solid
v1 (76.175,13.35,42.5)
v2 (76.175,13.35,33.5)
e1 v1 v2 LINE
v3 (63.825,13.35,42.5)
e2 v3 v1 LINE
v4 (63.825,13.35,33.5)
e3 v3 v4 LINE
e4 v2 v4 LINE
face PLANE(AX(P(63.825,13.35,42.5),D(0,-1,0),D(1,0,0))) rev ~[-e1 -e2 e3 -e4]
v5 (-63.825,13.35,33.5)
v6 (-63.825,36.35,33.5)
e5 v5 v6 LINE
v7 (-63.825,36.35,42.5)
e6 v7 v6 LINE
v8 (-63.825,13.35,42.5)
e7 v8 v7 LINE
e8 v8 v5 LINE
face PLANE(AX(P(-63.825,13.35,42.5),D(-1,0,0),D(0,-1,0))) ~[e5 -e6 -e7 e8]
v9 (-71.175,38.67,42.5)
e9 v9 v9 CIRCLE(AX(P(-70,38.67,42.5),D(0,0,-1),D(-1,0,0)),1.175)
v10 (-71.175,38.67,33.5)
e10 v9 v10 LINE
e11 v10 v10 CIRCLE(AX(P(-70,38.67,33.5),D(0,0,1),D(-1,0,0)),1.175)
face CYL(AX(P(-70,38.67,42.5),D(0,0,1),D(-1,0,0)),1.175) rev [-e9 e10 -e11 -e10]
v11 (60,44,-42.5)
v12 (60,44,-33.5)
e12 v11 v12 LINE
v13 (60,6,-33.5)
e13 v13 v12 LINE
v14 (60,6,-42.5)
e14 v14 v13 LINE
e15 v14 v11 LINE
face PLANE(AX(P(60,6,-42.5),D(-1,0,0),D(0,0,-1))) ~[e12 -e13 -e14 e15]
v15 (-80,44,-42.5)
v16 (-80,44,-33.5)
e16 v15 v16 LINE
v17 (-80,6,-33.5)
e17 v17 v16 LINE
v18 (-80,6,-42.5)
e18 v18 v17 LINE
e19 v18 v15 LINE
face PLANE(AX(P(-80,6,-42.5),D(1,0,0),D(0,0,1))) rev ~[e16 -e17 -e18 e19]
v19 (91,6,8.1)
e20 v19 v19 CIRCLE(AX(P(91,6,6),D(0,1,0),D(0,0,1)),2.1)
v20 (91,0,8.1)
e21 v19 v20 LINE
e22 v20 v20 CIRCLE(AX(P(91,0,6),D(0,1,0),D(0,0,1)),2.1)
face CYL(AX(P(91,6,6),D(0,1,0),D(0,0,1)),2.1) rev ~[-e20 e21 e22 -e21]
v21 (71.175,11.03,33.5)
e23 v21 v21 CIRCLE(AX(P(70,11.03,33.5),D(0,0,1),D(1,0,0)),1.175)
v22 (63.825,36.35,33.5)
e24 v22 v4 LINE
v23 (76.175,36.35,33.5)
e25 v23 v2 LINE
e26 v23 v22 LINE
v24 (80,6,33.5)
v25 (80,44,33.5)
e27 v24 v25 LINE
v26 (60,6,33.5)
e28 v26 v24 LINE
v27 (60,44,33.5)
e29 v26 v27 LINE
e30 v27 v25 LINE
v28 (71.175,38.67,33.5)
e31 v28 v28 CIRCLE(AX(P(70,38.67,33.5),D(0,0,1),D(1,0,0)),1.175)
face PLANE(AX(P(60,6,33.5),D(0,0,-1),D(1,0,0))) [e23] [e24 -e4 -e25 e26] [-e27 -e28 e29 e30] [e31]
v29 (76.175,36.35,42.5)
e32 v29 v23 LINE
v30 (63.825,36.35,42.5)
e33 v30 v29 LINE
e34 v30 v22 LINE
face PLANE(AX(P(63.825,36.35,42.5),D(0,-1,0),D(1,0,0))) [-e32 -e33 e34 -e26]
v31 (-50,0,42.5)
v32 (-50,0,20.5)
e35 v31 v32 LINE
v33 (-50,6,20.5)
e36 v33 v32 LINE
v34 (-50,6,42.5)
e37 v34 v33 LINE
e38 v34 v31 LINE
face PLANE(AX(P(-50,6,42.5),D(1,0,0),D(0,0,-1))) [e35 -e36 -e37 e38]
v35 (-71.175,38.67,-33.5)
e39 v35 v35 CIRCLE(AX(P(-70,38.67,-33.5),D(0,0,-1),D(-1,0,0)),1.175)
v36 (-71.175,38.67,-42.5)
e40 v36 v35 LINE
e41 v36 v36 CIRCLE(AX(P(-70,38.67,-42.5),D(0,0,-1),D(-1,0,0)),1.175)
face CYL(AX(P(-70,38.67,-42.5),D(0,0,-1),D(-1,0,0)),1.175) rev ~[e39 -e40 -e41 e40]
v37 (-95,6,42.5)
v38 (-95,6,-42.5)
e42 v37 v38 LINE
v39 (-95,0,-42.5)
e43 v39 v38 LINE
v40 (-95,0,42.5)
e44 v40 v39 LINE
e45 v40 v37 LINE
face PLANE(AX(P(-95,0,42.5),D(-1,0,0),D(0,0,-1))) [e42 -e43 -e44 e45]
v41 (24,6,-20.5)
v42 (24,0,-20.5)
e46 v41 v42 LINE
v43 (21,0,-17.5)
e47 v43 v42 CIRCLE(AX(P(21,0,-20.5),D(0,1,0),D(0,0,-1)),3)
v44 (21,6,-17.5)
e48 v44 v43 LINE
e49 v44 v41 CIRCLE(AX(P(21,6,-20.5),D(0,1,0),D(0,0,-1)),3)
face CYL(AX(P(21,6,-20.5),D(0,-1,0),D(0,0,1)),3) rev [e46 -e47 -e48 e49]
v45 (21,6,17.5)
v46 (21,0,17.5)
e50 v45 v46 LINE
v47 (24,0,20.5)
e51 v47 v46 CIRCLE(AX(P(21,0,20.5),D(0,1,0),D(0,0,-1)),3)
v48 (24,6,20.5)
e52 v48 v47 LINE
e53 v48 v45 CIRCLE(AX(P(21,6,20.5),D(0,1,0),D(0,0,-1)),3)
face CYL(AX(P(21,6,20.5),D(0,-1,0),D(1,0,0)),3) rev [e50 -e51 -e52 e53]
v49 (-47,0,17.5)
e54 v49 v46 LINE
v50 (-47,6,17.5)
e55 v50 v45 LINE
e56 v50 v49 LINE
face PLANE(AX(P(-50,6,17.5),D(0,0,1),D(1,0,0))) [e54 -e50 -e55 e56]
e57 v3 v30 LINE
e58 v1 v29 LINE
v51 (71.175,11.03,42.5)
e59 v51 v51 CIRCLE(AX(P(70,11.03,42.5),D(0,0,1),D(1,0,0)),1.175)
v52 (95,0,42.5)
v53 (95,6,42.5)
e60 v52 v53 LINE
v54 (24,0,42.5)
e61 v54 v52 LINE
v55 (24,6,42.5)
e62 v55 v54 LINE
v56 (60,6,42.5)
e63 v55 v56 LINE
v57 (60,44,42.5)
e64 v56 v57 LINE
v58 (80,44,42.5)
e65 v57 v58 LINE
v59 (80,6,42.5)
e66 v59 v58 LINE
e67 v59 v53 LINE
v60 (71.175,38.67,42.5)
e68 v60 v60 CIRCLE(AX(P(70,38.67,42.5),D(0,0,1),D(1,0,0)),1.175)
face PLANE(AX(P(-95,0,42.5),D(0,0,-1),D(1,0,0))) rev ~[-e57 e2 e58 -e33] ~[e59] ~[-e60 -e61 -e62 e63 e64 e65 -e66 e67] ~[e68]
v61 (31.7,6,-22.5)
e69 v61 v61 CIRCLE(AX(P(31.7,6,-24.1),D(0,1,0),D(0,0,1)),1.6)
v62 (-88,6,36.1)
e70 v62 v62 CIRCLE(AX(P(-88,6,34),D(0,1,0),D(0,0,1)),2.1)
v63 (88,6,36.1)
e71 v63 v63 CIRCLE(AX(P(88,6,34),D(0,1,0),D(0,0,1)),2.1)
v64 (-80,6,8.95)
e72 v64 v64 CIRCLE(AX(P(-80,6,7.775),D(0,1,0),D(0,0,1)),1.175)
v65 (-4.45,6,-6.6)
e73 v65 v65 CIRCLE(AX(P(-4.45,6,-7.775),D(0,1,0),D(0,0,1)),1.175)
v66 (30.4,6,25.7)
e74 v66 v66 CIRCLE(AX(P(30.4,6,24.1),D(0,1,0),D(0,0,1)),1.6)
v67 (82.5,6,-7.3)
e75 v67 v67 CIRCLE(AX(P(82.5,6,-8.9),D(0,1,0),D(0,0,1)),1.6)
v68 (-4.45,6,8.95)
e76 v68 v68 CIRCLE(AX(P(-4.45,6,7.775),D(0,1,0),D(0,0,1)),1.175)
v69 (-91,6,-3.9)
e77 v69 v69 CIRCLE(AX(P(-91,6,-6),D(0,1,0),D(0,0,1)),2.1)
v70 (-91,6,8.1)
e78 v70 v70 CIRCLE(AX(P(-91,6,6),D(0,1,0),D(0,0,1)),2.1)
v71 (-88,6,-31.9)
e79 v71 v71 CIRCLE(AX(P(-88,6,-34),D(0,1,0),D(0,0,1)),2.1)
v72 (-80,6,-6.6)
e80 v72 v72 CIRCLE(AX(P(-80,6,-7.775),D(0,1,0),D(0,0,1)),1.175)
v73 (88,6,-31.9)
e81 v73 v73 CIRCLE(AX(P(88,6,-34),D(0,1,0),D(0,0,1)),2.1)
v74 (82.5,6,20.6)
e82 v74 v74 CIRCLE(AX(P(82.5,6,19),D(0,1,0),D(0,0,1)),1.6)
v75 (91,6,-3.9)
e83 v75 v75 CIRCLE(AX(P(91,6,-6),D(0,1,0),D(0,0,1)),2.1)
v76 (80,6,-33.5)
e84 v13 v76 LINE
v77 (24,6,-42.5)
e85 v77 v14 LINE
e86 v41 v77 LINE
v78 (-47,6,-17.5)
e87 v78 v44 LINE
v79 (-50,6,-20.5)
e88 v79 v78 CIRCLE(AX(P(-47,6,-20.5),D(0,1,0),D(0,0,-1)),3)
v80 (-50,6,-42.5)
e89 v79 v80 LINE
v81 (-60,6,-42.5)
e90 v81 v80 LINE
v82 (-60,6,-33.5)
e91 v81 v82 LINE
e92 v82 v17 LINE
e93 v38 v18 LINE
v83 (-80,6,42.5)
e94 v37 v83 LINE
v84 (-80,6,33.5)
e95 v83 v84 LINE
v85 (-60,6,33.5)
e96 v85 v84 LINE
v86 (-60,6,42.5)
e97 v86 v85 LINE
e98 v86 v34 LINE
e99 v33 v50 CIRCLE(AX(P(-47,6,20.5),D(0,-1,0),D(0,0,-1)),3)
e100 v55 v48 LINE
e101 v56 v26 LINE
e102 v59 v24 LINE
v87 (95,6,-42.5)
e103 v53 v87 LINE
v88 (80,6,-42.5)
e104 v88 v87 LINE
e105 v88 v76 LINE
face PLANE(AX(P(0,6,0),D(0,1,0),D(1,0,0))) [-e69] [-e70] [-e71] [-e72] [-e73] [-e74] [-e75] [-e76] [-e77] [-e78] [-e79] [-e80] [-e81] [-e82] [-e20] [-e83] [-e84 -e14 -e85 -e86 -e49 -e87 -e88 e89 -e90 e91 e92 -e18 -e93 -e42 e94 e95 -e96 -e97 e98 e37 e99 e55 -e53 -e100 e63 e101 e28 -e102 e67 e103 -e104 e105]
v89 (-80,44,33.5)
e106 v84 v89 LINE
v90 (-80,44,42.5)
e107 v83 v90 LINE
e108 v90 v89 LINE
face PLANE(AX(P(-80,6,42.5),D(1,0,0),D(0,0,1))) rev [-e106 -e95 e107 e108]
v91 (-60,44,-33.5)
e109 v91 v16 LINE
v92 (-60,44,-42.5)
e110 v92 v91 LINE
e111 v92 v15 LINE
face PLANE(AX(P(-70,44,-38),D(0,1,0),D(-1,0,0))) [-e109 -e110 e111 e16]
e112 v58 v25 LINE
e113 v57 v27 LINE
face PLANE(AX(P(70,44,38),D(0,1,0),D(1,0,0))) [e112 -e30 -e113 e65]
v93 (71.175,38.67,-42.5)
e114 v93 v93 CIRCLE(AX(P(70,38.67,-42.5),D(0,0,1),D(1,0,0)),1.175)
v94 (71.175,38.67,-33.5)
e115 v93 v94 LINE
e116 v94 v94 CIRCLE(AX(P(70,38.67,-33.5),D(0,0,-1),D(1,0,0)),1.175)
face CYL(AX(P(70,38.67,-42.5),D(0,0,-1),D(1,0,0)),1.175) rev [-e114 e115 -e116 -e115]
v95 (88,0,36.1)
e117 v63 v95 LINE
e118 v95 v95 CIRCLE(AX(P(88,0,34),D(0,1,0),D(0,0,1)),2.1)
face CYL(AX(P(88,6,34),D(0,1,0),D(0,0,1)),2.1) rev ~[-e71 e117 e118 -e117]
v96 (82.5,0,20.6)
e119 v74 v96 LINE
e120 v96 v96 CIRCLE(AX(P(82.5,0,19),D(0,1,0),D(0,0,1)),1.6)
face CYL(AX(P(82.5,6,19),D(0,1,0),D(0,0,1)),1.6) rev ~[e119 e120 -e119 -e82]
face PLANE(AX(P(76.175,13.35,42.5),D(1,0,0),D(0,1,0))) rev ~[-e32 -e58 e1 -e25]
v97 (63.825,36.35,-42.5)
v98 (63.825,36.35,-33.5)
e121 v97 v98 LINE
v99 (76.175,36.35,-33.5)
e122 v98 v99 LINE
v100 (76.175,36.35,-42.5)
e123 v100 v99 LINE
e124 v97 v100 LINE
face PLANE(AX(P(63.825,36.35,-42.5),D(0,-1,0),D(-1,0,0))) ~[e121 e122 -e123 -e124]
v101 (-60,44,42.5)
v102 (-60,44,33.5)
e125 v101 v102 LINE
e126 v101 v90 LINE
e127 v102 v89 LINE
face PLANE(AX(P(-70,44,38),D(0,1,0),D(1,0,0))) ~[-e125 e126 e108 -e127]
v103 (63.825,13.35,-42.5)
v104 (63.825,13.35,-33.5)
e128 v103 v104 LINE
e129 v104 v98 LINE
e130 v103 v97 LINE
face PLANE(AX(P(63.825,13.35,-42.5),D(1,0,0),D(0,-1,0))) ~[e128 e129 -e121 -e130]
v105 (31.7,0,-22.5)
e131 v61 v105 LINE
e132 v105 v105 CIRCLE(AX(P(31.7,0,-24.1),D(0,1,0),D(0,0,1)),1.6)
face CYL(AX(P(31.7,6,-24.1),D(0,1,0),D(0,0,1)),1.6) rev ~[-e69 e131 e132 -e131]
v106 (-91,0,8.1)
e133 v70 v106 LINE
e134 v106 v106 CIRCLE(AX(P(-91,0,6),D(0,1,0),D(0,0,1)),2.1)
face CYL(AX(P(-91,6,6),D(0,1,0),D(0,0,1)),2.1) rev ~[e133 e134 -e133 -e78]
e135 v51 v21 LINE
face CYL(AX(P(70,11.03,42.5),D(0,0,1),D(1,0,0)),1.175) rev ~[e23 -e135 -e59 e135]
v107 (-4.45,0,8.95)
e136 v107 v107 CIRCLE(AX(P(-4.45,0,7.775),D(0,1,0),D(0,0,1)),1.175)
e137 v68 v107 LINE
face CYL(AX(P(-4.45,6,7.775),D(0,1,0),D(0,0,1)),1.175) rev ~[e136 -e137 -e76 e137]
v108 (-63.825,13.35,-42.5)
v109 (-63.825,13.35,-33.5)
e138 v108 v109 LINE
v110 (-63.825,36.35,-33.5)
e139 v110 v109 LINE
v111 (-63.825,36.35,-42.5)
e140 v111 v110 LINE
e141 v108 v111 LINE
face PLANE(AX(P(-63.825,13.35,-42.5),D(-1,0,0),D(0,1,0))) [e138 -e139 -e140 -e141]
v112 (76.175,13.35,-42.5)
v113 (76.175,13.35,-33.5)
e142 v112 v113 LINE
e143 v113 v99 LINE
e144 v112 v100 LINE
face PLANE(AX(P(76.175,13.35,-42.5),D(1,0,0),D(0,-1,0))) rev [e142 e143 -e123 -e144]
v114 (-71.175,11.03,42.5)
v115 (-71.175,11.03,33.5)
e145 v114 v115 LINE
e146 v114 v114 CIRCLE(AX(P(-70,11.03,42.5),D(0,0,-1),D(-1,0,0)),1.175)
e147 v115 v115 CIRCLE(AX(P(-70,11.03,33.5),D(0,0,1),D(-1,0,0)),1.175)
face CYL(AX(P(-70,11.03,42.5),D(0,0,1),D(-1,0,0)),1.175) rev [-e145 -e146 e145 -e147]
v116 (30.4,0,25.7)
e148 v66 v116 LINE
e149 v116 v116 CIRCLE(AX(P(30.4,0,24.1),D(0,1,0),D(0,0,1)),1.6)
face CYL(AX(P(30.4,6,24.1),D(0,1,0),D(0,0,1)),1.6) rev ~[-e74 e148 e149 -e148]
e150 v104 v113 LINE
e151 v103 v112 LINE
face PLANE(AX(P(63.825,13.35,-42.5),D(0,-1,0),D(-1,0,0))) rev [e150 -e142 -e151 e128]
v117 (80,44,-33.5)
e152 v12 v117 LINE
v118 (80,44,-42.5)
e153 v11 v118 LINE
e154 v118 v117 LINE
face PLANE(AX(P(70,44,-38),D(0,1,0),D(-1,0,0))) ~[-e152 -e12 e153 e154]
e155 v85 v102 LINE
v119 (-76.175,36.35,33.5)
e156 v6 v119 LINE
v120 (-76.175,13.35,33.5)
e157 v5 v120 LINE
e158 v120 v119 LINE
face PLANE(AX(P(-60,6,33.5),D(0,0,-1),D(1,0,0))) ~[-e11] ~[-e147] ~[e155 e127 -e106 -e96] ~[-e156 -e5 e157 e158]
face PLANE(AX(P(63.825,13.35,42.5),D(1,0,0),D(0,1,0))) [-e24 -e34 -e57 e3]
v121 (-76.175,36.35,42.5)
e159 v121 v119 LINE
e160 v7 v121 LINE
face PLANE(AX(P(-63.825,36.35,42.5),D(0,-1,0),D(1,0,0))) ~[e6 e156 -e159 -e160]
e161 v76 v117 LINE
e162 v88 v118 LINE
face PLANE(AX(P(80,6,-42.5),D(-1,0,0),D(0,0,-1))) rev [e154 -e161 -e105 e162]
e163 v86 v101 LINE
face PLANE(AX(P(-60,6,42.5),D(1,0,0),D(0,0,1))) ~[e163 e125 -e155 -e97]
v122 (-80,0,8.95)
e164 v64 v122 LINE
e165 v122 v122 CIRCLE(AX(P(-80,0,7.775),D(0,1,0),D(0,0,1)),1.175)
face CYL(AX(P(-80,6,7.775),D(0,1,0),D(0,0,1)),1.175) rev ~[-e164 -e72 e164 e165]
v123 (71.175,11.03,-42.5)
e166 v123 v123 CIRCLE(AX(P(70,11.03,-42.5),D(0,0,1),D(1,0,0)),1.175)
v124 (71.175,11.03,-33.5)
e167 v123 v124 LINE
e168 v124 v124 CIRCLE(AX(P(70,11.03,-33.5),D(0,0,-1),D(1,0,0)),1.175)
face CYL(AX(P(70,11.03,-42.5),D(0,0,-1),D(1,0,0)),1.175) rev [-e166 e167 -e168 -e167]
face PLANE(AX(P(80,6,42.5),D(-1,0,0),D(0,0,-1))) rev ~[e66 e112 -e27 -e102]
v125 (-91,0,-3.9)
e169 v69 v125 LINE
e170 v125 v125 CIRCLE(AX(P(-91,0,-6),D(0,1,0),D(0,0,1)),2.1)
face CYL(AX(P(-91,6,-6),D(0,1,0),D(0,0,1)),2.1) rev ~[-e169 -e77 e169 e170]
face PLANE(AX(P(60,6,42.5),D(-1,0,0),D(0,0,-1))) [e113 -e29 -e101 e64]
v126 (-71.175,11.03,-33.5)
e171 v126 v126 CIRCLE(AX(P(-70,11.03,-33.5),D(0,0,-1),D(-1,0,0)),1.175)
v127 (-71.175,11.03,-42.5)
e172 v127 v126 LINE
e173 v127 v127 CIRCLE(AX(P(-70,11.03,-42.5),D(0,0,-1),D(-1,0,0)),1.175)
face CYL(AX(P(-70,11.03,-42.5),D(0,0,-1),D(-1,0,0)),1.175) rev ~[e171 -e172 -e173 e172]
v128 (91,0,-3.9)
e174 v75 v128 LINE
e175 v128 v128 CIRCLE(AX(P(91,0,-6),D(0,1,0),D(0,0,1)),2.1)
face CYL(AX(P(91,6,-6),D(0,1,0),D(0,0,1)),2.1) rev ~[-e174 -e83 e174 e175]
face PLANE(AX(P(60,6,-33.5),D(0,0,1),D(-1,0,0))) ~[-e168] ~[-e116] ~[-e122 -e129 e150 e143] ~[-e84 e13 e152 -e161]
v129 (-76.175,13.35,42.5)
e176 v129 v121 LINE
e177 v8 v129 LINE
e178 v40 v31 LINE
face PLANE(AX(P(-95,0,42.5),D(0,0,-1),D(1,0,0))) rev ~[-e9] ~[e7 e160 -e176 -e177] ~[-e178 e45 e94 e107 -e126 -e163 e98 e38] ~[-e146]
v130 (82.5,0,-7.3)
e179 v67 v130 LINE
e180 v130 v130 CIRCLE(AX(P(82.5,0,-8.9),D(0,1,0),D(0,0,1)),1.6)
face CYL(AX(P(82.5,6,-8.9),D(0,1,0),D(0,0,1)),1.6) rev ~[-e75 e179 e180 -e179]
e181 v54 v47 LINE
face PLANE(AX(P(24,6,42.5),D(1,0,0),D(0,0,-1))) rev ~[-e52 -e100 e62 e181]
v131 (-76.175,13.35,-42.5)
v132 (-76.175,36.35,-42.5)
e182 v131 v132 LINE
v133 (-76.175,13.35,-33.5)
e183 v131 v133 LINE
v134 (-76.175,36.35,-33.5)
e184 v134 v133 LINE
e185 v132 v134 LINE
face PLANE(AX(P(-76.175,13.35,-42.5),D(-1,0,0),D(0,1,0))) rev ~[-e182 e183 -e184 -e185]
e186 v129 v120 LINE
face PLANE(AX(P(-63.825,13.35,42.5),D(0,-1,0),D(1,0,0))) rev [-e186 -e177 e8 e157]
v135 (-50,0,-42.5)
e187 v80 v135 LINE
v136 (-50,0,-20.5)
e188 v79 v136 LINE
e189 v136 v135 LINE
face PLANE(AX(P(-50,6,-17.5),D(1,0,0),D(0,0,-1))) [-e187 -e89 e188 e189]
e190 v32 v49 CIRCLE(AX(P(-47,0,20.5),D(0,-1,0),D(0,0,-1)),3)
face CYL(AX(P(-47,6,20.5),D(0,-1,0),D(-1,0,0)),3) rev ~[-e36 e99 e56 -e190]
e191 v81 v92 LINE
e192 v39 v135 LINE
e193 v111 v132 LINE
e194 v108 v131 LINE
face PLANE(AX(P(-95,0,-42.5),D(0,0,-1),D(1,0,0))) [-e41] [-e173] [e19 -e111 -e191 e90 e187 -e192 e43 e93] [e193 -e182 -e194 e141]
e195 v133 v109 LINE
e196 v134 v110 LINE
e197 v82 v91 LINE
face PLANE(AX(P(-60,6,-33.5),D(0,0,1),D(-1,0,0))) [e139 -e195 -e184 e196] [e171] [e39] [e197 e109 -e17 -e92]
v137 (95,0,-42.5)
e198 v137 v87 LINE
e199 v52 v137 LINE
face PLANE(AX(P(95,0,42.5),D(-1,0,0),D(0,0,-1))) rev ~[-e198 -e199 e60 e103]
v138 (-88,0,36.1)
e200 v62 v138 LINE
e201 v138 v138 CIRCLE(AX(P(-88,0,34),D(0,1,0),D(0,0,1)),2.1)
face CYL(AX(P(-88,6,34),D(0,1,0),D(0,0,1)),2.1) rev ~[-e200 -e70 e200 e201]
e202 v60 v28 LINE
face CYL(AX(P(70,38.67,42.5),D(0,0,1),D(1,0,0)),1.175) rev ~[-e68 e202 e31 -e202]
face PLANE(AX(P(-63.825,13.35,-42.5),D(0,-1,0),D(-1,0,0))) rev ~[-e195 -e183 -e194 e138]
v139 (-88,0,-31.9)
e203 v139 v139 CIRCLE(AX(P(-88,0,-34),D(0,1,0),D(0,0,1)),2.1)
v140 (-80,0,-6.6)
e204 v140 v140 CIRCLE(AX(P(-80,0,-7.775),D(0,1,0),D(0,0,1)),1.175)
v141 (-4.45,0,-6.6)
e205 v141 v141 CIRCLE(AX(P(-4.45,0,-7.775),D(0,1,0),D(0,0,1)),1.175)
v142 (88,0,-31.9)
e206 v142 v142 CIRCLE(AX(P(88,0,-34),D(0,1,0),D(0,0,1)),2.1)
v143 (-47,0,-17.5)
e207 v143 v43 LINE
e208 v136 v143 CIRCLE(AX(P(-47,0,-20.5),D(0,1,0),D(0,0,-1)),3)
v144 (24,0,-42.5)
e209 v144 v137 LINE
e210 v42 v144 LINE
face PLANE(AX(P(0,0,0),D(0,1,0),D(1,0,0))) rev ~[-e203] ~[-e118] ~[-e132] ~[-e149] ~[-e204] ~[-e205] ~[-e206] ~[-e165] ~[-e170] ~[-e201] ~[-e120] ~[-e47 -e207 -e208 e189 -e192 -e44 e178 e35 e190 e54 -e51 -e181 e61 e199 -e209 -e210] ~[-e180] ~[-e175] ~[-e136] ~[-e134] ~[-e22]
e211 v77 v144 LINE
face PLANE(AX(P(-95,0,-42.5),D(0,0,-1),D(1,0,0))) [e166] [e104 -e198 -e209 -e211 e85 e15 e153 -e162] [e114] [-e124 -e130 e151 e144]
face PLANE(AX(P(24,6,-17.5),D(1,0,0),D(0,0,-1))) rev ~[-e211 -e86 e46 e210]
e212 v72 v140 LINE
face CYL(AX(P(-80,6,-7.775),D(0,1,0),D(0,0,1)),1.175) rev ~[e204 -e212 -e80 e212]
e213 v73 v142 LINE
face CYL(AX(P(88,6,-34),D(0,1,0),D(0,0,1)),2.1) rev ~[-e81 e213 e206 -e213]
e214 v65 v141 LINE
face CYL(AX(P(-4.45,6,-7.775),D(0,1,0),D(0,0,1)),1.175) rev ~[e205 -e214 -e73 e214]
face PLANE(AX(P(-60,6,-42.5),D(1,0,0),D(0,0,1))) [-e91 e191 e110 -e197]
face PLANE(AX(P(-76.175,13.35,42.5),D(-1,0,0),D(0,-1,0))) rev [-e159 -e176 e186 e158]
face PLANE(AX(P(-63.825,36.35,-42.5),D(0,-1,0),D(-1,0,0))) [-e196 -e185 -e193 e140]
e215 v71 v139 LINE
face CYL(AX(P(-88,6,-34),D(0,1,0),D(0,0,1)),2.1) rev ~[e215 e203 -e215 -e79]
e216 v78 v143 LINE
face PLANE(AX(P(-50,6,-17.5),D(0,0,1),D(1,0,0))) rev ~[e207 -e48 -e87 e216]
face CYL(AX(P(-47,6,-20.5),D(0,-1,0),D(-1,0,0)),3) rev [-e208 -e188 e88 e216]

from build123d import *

# Parameters (mm, degrees)
SKETCH1_W               = 190
SKETCH1_H               = 85
BOSS_EXTRUDE1_DEPTH     = 6
SKETCH2_W               = 20
SKETCH2_H               = 9
BOSS_EXTRUDE2_DEPTH     = 38
SKETCH3_R               = 1.175
SKETCH3_W               = 12.35
SKETCH3_H               = 23
CUT_EXTRUDE1_DEPTH      = 30
MIRROR2_COPY_1_SKETCH_W = 20
MIRROR2_COPY_1_SKETCH_H = 9
MIRROR2_COPY_1_DEPTH    = 38
MIRROR2_COPY_2_SKETCH_R = 1.175
MIRROR2_COPY_2_SKETCH_W = 12.35
MIRROR2_COPY_2_SKETCH_H = 23
MIRROR2_COPY_2_DEPTH    = 30
SKETCH10_R              = 1.6
CUT_EXTRUDE2_DEPTH      = 6
SKETCH11_R              = 2.1
CUT_EXTRUDE3_DEPTH      = 10
SKETCH15_W              = 74
SKETCH15_H              = 25
CUT_EXTRUDE5_DEPTH      = 10
FILLET3_R               = 3
SKETCH16_R              = 2.1
CUT_EXTRUDE6_DEPTH      = 10
SKETCH13_R              = 1.175
CUT_EXTRUDE7_DEPTH      = 10


with BuildPart() as part:
    # Sketch1 → Boss-Extrude1 (new body)
    with BuildSketch(Plane(origin=(0, 0, 0), x_dir=(1, 0, 0), z_dir=(0, 1, 0))):
        Rectangle(SKETCH1_W, SKETCH1_H)
    extrude(amount=BOSS_EXTRUDE1_DEPTH)

    # Sketch2 → Boss-Extrude2 (add)
    with BuildSketch(Plane(origin=(0, 6, 0), x_dir=(1, 0, 0), z_dir=(0, 1, 0))):
        with Locations((70, -38)):
            Rectangle(SKETCH2_W, SKETCH2_H)
    boss_extrude2 = extrude(amount=BOSS_EXTRUDE2_DEPTH)

    # Sketch3 → Cut-Extrude1 (cut)
    with BuildSketch(Plane.XY.offset(42.5)):
        with Locations((70, 38.67)):
            Circle(SKETCH3_R)
        with Locations((70, 11.03)):
            Circle(SKETCH3_R)
        with Locations((70, 24.85)):
            Rectangle(SKETCH3_W, SKETCH3_H)
    cut_extrude1 = extrude(amount=-CUT_EXTRUDE1_DEPTH, mode=Mode.SUBTRACT)

    # Mirror1: Boss-Extrude2, Cut-Extrude1 across plane
    add(boss_extrude2.mirror(Plane.XY))
    add(cut_extrude1.mirror(Plane.XY), mode=Mode.SUBTRACT)

    # Mirror2: Boss-Extrude2, Cut-Extrude1 across plane
    add(boss_extrude2.mirror(Plane.ZY))
    add(cut_extrude1.mirror(Plane.ZY), mode=Mode.SUBTRACT)

    # Mirror2 copy 1 sketch → Mirror2 copy 1 (add)
    with BuildSketch(Plane(origin=(0, 6, 0), x_dir=(-1, 0, 0), z_dir=(0, 1, 0))):
        with Locations((70, -38)):
            Rectangle(MIRROR2_COPY_1_SKETCH_W, MIRROR2_COPY_1_SKETCH_H)
    extrude(amount=MIRROR2_COPY_1_DEPTH)

    # Mirror2 copy 2 sketch → Mirror2 copy 2 (cut)
    with BuildSketch(Plane(origin=(0, 0, -42.5), x_dir=(-1, 0, 0), z_dir=(0, 0, -1))):
        with Locations((70, 38.67)):
            Circle(MIRROR2_COPY_2_SKETCH_R)
        with Locations((70, 11.03)):
            Circle(MIRROR2_COPY_2_SKETCH_R)
        with Locations((70, 24.85)):
            Rectangle(MIRROR2_COPY_2_SKETCH_W, MIRROR2_COPY_2_SKETCH_H)
    extrude(amount=-MIRROR2_COPY_2_DEPTH, mode=Mode.SUBTRACT)

    # Sketch10 → Cut-Extrude2 (cut)
    with BuildSketch(Plane(origin=(0, 6, 0), x_dir=(1, 0, 0), z_dir=(0, 1, 0))):
        with Locations(Location((31.7, 24.1, 0), (0, 0, 270))):
            Circle(SKETCH10_R)
        with Locations(Location((82.5, 8.9, 0), (0, 0, 270))):
            Circle(SKETCH10_R)
        with Locations(Location((82.5, -19, 0), (0, 0, 270))):
            Circle(SKETCH10_R)
        with Locations(Location((30.4, -24.1, 0), (0, 0, 270))):
            Circle(SKETCH10_R)
    extrude(amount=-CUT_EXTRUDE2_DEPTH, mode=Mode.SUBTRACT)

    # Sketch11 → Cut-Extrude3 (cut)
    with BuildSketch(Plane(origin=(0, 6, 0), x_dir=(1, 0, 0), z_dir=(0, 1, 0))):
        with Locations(Location((88, 34, 0), (0, 0, 270))):
            Circle(SKETCH11_R)
        with Locations(Location((88, -34, 0), (0, 0, 270))):
            Circle(SKETCH11_R)
        with Locations(Location((-88, 34, 0), (0, 0, 270))):
            Circle(SKETCH11_R)
        with Locations(Location((-88, -34, 0), (0, 0, 270))):
            Circle(SKETCH11_R)
    extrude(amount=-CUT_EXTRUDE3_DEPTH, mode=Mode.SUBTRACT)

    # Sketch15 → Cut-Extrude5 (cut)
    with BuildSketch(Plane(origin=(0, 6, 0), x_dir=(1, 0, 0), z_dir=(0, 1, 0))):
        with Locations((-13, 30)):
            Rectangle(SKETCH15_W, SKETCH15_H)
        with Locations((-13, -30)):
            Rectangle(SKETCH15_W, SKETCH15_H)
    extrude(amount=-CUT_EXTRUDE5_DEPTH, mode=Mode.SUBTRACT)

    # Fillet3
    fillet3_edges = [part.edges().sort_by_distance(p)[0] for p in [
        (-50, 3, -17.5),
        (24, 3, -17.5),
        (-50, 3, 17.5),
        (24, 3, 17.5),
    ]]
    fillet(fillet3_edges, radius=FILLET3_R)

    # Sketch16 → Cut-Extrude6 (cut)
    with BuildSketch(Plane(origin=(0, 6, 0), x_dir=(1, 0, 0), z_dir=(0, 1, 0))):
        with Locations(Location((91, 6, 0), (0, 0, 270))):
            Circle(SKETCH16_R)
        with Locations(Location((91, -6, 0), (0, 0, 270))):
            Circle(SKETCH16_R)
        with Locations(Location((-91, 6, 0), (0, 0, 270))):
            Circle(SKETCH16_R)
        with Locations(Location((-91, -6, 0), (0, 0, 270))):
            Circle(SKETCH16_R)
    extrude(amount=-CUT_EXTRUDE6_DEPTH, mode=Mode.SUBTRACT)

    # Sketch13 → Cut-Extrude7 (cut)
    with BuildSketch(Plane(origin=(0, 6, 0), x_dir=(1, 0, 0), z_dir=(0, 1, 0))):
        with Locations(Location((-4.45, 7.775, 0), (0, 0, 270))):
            Circle(SKETCH13_R)
        with Locations(Location((-4.45, -7.775, 0), (0, 0, 270))):
            Circle(SKETCH13_R)
        with Locations(Location((-80, 7.775, 0), (0, 0, 270))):
            Circle(SKETCH13_R)
        with Locations(Location((-80, -7.775, 0), (0, 0, 270))):
            Circle(SKETCH13_R)
    extrude(amount=-CUT_EXTRUDE7_DEPTH, mode=Mode.SUBTRACT)


solid = part.part
